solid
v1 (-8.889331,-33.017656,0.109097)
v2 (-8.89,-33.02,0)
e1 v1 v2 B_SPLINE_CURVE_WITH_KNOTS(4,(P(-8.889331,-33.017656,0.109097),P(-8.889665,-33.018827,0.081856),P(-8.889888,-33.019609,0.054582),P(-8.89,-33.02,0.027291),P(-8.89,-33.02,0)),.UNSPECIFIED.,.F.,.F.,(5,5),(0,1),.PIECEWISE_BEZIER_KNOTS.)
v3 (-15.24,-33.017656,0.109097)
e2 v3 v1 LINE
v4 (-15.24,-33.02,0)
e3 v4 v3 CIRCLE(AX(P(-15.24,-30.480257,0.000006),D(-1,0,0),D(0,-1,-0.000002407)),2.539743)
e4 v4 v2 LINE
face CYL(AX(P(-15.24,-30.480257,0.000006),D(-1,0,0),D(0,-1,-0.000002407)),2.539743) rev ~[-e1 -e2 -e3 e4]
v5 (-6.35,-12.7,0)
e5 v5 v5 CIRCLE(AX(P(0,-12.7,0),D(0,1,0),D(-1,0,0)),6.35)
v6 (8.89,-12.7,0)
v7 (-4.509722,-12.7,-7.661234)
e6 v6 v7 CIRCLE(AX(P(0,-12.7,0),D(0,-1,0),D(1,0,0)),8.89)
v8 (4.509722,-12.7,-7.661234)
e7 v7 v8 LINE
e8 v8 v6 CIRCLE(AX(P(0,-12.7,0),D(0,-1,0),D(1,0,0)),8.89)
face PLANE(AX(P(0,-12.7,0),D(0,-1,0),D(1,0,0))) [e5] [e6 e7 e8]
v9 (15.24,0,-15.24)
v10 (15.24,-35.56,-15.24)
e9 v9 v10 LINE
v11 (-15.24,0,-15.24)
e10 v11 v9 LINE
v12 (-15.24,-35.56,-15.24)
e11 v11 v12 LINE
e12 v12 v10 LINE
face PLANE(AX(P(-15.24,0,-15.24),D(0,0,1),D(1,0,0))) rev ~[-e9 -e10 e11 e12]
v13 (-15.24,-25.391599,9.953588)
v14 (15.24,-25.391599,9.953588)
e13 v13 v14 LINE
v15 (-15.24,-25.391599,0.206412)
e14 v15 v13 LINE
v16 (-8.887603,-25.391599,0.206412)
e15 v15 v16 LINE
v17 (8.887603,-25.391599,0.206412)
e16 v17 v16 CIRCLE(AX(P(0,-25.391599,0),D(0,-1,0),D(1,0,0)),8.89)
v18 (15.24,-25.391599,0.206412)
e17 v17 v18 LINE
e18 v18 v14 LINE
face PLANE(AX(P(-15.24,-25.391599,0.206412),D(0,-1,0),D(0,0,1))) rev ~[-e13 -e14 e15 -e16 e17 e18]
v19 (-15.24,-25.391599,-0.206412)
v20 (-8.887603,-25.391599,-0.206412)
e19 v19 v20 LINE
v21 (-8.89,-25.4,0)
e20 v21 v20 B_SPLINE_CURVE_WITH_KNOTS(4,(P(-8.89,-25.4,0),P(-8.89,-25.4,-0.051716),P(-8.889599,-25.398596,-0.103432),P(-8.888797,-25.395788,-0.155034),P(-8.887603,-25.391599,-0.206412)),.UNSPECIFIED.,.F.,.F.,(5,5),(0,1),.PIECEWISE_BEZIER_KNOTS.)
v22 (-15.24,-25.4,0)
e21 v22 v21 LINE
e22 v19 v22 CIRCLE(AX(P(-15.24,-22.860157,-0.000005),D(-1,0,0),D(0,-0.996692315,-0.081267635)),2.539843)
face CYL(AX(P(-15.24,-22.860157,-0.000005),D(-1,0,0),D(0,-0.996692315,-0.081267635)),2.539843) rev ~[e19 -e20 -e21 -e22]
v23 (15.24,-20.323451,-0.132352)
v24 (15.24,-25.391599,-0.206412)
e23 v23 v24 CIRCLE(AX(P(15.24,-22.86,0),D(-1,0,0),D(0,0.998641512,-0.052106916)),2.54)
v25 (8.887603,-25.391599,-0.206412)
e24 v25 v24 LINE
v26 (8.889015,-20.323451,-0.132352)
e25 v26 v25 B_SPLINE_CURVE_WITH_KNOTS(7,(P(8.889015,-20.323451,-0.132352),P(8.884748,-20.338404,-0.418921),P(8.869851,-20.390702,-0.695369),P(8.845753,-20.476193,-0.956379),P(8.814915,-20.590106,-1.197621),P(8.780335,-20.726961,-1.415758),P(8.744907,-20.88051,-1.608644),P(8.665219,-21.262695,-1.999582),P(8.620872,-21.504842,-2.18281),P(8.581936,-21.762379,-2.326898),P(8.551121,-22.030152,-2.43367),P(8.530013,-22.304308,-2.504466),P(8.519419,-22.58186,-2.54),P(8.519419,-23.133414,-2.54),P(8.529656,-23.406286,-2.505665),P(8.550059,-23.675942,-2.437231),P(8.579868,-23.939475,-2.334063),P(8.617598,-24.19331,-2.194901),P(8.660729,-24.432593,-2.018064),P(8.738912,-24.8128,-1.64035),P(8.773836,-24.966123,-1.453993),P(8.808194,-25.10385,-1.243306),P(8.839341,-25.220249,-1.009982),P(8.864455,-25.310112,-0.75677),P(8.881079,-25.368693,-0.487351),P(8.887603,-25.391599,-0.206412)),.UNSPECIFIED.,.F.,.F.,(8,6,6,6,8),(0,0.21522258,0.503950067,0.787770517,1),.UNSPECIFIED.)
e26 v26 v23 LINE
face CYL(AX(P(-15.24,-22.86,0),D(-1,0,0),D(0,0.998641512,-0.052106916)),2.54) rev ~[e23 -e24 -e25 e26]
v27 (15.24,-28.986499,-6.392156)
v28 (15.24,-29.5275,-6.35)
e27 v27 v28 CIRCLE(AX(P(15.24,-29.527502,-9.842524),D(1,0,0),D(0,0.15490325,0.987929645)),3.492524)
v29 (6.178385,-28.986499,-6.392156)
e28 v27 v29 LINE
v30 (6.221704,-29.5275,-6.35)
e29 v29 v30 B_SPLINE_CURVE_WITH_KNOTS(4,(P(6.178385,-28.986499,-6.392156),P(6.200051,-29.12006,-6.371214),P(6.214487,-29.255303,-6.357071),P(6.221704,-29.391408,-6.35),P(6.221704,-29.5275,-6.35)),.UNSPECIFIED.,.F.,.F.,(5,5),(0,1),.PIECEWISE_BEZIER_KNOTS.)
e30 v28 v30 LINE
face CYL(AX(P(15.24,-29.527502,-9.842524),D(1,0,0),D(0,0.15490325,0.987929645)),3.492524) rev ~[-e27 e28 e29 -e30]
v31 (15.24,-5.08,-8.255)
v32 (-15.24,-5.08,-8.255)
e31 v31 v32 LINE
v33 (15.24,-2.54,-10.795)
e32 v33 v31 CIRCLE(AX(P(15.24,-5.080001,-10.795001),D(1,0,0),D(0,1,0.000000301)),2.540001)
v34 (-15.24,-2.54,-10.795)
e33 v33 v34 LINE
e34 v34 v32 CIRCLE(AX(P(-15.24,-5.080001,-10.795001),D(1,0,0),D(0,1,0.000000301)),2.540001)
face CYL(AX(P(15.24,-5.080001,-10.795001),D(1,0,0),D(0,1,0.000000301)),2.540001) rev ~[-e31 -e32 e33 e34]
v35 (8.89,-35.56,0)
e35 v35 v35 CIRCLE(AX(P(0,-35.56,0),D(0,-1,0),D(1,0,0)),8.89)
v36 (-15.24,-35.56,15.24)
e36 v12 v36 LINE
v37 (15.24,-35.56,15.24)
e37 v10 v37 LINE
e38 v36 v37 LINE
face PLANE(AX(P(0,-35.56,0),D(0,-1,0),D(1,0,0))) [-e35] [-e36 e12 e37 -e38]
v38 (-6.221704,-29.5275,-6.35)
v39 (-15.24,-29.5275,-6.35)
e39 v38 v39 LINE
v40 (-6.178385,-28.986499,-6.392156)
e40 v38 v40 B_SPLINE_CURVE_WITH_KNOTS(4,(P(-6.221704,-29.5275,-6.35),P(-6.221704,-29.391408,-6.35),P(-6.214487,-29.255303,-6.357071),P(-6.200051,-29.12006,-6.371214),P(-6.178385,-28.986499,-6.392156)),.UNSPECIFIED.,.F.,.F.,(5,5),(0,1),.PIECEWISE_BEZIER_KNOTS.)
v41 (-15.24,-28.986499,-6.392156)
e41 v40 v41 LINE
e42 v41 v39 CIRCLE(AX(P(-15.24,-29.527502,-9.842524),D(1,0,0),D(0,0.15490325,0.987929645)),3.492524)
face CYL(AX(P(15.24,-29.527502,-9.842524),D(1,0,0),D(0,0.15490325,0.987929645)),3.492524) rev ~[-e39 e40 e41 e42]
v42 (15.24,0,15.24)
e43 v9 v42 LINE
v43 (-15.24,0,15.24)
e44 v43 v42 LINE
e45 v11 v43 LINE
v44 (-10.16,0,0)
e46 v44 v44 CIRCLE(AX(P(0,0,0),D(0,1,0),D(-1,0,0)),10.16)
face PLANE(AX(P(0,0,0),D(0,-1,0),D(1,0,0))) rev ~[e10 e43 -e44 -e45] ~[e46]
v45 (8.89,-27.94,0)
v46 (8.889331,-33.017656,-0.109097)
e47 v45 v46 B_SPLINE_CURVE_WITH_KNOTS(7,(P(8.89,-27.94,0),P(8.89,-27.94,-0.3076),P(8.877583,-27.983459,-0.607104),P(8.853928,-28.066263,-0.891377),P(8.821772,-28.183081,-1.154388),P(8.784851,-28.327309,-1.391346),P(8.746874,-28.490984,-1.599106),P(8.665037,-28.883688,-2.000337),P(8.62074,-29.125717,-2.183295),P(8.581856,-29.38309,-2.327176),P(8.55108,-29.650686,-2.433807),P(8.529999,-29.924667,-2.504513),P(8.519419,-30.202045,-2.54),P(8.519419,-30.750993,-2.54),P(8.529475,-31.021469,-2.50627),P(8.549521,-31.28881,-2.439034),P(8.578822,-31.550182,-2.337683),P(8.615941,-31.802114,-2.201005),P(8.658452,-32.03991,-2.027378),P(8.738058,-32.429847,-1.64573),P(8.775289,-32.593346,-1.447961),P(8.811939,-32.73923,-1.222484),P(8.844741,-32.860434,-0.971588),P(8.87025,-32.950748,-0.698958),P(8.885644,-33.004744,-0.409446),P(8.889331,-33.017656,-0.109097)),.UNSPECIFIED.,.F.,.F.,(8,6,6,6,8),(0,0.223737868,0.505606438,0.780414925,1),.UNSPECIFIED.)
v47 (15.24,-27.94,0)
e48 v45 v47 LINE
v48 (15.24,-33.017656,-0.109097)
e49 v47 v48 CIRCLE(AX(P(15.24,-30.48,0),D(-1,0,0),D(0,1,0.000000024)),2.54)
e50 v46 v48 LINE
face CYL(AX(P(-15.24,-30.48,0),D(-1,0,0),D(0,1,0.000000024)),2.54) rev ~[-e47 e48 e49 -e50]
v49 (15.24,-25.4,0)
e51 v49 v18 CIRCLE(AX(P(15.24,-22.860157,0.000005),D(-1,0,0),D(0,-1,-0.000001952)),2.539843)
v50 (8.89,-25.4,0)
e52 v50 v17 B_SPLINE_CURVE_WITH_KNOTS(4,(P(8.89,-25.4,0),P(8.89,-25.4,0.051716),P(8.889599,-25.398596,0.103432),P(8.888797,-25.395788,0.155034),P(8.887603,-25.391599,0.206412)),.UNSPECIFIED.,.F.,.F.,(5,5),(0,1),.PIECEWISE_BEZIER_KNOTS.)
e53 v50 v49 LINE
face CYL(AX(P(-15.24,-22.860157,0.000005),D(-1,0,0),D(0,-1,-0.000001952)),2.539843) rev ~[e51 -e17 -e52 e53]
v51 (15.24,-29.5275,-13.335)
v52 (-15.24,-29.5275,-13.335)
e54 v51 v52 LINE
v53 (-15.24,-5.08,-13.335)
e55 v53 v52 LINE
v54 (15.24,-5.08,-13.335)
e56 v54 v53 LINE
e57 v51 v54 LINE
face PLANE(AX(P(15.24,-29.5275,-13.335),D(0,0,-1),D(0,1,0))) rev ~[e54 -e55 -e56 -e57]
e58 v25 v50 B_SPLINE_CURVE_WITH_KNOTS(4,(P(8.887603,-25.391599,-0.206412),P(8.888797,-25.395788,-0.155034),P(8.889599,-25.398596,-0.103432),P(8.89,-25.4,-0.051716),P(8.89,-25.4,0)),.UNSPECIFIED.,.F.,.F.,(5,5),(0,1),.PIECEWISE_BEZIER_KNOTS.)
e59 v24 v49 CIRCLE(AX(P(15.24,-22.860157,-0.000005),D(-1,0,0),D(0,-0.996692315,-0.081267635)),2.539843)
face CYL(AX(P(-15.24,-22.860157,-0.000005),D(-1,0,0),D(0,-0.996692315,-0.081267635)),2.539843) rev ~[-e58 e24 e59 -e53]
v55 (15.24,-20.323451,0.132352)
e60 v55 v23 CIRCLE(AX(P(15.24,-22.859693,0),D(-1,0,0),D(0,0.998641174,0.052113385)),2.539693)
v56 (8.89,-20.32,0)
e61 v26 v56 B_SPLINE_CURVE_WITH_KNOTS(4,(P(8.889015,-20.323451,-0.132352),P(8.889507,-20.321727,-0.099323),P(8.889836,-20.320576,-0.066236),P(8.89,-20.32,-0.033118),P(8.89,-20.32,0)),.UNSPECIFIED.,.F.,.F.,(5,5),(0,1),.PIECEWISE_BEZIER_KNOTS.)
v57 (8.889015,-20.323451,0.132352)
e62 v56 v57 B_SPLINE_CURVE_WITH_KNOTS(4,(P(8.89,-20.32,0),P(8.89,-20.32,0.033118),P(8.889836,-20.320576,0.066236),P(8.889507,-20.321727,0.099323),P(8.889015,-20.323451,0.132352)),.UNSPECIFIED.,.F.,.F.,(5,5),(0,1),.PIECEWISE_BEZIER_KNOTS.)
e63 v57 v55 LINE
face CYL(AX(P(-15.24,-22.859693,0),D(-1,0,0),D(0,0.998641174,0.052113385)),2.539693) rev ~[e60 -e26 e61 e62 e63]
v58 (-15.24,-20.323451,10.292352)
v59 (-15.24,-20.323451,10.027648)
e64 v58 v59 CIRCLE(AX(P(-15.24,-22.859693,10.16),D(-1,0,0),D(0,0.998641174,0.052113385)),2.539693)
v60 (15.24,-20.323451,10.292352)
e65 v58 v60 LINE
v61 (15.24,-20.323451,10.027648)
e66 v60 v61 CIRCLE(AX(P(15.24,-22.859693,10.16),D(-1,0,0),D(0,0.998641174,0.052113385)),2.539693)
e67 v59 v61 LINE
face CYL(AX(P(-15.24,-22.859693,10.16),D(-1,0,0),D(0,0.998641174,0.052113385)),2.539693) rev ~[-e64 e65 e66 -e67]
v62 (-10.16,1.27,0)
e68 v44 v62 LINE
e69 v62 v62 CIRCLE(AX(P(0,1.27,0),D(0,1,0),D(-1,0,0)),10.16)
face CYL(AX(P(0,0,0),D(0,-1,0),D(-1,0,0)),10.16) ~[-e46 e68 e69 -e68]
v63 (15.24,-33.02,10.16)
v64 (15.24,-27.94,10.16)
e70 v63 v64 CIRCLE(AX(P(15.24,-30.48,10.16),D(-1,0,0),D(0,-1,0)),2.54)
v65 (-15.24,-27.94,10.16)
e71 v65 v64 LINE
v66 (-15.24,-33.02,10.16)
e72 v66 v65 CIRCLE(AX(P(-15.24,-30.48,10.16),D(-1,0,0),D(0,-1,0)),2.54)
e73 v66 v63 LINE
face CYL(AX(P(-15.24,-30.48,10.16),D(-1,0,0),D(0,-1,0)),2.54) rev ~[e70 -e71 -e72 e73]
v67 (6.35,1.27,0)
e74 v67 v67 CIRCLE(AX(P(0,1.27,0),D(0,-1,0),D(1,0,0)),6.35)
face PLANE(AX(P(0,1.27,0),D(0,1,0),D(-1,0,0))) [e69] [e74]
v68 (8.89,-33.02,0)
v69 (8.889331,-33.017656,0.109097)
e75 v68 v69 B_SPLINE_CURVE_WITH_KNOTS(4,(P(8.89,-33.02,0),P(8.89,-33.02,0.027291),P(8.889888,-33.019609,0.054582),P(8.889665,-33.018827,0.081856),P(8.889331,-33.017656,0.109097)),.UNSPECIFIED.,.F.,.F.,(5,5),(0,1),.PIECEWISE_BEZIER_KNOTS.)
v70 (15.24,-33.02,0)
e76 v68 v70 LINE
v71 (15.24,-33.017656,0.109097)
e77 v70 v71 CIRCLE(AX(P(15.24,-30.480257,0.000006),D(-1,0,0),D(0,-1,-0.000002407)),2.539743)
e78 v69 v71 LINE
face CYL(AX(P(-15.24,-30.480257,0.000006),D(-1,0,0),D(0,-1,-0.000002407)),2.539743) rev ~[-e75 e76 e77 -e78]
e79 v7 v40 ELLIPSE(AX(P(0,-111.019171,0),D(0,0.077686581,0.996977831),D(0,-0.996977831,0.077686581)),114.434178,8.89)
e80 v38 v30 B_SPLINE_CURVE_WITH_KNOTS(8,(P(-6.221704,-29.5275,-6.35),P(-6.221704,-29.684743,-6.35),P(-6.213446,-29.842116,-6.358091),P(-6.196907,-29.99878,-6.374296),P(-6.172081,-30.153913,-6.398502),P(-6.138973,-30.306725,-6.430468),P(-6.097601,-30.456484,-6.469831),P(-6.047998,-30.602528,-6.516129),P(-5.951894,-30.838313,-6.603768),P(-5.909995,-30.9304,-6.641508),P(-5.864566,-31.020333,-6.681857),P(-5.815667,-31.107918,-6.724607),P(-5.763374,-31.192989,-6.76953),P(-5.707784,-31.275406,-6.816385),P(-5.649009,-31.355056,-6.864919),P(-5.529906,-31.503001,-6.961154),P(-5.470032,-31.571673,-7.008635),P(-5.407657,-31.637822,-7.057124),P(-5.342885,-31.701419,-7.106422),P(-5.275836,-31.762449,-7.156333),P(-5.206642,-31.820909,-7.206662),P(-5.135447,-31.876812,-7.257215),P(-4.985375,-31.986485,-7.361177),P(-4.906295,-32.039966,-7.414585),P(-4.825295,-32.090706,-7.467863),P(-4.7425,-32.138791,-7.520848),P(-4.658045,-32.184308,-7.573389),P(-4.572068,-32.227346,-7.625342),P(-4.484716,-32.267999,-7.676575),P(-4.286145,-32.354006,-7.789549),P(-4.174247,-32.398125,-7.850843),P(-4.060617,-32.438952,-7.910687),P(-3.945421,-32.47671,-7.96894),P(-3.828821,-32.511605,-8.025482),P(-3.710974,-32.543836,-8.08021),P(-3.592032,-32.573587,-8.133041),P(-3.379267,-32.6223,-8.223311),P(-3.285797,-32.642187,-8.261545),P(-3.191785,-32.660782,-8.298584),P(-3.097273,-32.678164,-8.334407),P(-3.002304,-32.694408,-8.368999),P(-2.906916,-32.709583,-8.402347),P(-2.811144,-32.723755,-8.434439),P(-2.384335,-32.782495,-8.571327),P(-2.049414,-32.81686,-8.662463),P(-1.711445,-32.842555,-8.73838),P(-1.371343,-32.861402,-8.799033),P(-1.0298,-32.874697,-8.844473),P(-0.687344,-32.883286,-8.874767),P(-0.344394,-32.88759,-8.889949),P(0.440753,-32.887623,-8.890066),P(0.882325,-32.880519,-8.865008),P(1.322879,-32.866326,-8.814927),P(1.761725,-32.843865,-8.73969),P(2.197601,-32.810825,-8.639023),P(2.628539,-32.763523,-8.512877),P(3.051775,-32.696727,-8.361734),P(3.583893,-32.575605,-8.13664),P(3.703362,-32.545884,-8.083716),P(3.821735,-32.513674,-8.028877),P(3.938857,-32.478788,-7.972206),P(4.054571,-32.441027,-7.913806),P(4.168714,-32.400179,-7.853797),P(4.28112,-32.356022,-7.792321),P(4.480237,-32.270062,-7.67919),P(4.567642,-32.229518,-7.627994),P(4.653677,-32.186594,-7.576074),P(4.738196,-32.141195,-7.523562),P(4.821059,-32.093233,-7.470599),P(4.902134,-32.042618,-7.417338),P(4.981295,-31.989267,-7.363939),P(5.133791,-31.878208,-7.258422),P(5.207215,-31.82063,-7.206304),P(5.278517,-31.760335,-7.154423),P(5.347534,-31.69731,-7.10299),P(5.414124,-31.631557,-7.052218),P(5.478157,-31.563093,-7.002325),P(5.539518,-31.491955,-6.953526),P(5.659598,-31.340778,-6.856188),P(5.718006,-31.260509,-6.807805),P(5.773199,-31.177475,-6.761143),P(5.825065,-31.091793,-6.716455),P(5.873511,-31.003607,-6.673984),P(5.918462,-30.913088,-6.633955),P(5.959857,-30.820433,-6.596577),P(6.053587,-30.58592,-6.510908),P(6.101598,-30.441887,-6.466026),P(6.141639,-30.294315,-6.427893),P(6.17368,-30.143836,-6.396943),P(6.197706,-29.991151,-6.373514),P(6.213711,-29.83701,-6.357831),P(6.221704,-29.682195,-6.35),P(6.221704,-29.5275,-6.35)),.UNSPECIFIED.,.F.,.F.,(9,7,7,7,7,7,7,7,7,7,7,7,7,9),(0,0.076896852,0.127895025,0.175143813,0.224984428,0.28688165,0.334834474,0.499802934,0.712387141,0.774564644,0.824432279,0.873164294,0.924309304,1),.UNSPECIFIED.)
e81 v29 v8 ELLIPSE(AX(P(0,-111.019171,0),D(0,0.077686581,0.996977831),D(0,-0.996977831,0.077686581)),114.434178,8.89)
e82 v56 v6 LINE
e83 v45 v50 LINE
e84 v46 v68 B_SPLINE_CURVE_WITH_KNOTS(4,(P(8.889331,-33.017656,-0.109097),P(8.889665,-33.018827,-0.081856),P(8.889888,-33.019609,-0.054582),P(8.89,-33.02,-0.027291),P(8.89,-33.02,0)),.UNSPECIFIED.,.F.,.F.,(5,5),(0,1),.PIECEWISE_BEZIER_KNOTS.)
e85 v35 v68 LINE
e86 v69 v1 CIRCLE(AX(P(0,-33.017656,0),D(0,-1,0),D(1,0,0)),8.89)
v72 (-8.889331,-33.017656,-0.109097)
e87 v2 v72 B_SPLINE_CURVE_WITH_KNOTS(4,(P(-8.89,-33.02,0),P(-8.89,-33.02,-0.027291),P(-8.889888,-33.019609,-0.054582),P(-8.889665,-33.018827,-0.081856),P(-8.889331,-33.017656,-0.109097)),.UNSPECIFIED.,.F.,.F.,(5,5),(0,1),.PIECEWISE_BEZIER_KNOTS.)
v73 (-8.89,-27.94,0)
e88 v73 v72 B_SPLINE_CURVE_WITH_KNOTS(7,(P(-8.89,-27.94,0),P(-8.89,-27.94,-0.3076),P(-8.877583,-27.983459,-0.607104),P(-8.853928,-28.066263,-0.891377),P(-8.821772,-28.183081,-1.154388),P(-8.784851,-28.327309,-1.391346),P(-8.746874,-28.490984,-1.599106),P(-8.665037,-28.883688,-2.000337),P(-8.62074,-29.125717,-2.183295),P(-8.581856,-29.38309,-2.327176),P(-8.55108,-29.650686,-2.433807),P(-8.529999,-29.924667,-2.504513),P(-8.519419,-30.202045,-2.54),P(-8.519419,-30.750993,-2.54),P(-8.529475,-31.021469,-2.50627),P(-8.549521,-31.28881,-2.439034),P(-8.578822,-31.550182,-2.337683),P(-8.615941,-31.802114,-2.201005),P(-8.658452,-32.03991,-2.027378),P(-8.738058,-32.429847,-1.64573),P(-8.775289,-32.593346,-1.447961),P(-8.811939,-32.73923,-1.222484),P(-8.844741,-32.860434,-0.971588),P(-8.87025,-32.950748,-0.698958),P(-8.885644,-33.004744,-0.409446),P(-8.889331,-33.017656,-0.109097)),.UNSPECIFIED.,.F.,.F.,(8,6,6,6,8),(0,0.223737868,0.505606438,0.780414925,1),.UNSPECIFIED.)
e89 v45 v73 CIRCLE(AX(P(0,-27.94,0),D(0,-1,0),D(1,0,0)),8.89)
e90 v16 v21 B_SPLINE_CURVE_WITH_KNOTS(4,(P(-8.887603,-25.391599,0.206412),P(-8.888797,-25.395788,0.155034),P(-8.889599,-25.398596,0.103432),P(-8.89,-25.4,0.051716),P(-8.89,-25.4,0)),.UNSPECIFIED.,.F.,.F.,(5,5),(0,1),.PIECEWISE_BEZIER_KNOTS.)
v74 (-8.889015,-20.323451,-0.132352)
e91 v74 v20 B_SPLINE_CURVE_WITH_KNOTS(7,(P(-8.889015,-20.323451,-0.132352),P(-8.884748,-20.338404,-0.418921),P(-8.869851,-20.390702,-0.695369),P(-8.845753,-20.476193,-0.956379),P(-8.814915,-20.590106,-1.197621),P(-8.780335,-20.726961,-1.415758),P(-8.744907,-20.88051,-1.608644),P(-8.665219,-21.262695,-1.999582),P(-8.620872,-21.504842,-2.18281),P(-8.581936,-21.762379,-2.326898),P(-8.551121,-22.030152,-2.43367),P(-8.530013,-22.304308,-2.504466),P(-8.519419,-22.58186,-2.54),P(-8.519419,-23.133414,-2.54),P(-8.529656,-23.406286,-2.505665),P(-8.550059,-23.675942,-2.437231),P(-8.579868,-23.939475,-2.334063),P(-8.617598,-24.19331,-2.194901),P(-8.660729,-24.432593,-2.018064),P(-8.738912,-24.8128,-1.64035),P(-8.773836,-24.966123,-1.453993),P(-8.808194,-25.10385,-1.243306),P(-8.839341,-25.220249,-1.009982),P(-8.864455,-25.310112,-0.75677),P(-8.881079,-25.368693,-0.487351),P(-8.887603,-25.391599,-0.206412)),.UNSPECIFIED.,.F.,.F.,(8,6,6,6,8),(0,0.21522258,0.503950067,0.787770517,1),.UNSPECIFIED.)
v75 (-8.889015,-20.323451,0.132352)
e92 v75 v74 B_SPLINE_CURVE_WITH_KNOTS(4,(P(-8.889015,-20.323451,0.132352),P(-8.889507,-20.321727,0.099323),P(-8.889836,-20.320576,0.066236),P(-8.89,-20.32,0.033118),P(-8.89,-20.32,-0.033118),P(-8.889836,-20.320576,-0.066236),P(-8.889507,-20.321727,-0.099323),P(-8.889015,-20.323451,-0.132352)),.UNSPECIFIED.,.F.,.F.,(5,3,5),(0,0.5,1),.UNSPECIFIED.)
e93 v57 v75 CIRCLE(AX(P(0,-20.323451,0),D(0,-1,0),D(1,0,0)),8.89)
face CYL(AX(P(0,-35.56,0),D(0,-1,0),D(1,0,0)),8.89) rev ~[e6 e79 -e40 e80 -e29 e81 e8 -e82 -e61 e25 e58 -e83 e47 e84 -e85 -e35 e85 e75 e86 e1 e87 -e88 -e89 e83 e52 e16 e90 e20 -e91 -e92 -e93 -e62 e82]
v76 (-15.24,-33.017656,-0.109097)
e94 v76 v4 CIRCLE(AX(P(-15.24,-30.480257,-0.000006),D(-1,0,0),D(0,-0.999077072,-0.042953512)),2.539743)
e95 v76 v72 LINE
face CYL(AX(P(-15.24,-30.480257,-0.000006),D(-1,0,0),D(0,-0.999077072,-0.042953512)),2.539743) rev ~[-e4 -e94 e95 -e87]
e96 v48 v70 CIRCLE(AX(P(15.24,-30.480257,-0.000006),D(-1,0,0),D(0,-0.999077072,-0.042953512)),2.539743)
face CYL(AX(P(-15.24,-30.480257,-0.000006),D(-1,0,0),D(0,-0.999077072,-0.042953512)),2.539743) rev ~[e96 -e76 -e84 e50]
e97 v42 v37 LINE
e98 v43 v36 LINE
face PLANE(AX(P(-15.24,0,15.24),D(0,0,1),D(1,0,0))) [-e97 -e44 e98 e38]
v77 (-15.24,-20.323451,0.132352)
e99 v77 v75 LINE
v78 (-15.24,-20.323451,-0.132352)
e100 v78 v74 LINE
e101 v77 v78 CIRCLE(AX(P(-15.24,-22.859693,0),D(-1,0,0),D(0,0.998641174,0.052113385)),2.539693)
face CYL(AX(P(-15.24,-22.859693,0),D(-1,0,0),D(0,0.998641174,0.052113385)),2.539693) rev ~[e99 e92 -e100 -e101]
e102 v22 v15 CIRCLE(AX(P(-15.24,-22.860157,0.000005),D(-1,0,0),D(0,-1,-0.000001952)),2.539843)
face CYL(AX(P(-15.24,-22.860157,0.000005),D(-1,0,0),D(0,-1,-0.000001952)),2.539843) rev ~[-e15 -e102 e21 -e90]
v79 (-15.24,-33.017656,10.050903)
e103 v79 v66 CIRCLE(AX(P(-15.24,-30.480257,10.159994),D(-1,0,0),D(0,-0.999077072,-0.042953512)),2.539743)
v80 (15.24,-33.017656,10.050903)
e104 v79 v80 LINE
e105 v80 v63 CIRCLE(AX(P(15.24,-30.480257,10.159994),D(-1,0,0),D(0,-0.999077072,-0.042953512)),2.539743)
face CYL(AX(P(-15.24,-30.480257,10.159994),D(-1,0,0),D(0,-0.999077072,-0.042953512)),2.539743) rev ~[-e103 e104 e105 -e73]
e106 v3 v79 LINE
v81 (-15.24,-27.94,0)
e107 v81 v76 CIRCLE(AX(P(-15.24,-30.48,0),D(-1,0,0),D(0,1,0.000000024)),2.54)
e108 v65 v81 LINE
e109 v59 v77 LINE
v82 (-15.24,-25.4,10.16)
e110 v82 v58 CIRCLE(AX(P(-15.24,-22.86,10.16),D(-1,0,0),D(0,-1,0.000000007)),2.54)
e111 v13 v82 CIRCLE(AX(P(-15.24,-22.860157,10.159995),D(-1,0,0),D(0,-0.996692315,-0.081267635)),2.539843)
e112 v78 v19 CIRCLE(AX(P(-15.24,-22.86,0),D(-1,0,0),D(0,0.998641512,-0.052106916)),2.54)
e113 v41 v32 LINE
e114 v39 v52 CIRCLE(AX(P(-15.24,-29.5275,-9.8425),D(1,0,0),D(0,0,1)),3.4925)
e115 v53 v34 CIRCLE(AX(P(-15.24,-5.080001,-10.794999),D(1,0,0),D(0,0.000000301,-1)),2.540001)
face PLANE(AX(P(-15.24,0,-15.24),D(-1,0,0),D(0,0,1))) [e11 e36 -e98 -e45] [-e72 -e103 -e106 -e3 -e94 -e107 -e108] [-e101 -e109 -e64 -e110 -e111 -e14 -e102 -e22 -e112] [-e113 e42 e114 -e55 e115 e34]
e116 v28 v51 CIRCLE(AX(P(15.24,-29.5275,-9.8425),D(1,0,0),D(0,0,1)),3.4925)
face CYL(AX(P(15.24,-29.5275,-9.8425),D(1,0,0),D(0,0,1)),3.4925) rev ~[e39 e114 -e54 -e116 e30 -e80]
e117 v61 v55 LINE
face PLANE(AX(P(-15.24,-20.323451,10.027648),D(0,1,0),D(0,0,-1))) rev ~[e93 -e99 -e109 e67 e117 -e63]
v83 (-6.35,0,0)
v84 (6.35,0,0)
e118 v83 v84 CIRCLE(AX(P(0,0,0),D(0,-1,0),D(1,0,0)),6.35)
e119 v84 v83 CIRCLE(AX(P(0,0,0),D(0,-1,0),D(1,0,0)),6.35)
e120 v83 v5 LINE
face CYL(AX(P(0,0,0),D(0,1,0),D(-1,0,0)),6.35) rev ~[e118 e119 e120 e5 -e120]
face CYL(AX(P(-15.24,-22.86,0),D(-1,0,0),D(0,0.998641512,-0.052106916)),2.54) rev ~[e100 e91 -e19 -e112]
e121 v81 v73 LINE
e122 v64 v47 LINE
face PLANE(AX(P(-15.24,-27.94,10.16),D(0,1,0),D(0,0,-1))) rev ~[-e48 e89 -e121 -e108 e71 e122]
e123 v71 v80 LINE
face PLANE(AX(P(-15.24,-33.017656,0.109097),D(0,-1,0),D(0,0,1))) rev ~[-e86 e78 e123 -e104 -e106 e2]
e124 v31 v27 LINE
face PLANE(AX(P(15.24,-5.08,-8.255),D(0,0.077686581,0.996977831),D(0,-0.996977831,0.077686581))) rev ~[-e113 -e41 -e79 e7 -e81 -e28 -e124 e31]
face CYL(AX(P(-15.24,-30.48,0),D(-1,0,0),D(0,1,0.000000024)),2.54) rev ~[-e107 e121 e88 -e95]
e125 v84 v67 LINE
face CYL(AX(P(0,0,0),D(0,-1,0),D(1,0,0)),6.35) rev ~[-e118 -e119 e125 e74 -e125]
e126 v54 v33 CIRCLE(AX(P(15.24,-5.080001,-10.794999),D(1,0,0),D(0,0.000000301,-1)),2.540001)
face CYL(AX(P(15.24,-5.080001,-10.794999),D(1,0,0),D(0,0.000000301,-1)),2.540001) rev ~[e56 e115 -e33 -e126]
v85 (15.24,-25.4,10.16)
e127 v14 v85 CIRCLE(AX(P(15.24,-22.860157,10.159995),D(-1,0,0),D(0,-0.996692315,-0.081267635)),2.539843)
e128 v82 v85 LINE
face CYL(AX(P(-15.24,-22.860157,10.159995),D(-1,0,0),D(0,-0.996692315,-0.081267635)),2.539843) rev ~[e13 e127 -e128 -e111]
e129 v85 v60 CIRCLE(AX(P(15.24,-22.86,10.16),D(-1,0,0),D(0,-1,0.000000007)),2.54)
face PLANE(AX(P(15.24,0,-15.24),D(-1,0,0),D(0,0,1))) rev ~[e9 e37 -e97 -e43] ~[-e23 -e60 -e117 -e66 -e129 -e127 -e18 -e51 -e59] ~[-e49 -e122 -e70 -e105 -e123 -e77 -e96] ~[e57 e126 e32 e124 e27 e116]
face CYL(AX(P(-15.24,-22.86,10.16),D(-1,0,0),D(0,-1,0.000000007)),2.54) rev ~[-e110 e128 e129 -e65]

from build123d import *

# Parameters (mm, degrees)
F0_W      = 30.48
F0_H      = 30.48
F1_DEPTH  = 35.56
F3_DEPTH  = 38.1
F5_DEPTH  = 38.1
F6_R      = 8.89
F7_DEPTH  = 22.86
F8_R      = 10.16
F9_DEPTH  = 1.27
F10_R     = 6.35
F11_DEPTH = 38.1
F12_R     = 6.35
F13_DEPTH = 25.4


with BuildPart() as f1:
    # F0 (on Front) → F1 (new body)
    with BuildSketch(Plane.XZ):
        Rectangle(F0_W, F0_H)
    extrude(amount=F1_DEPTH)

    # F2 (on face) → F3 (cut)
    with BuildSketch(Plane(origin=(-15.24, 0, 0), x_dir=(0, -1, 0), z_dir=(-1, 0, 0))):
        with BuildLine():
            ThreePointArc((33.017656, 10.050903), (33.019414, 10.105439), (33.02, 10.16))
            ThreePointArc((33.02, 10.16), (30.48, 12.7), (27.94, 10.16))
            ThreePointArc((27.94, 10.16), (30.425439, 7.620586), (33.017656, 10.050903))
        make_face()
        with BuildLine():
            ThreePointArc((33.017656, 10.050903), (30.425439, 7.620586), (27.94, 10.16))
            Line((27.94, 10.16), (27.94, 0))
            ThreePointArc((27.94, 0), (30.425439, 2.539414), (33.017656, 0.109097))
            Line((33.017656, 0.109097), (33.017656, 10.050903))
        make_face()
        with BuildLine():
            ThreePointArc((33.017656, 0.109097), (30.425439, 2.539414), (27.94, 0))
            ThreePointArc((27.94, 0), (30.425439, -2.539414), (33.017656, -0.109097))
            Line((33.017656, -0.109097), (33.017656, 0.109097))
        make_face()
        with BuildLine():
            ThreePointArc((33.02, 0), (33.019414, 0.054561), (33.017656, 0.109097))
            Line((33.017656, 0.109097), (33.017656, -0.109097))
            ThreePointArc((33.017656, -0.109097), (33.019414, -0.054561), (33.02, 0))
        make_face()
        with BuildLine():
            ThreePointArc((25.391599, 9.953588), (25.397899, 10.056709), (25.4, 10.16))
            ThreePointArc((25.4, 10.16), (22.926198, 12.699137), (20.323451, 10.292352))
            Line((20.323451, 10.292352), (20.323451, 10.027648))
            ThreePointArc((20.323451, 10.027648), (22.822887, 7.620271), (25.391599, 9.953588))
        make_face()
        with BuildLine():
            Line((20.323451, 10.027648), (20.323451, 10.292352))
            ThreePointArc((20.323451, 10.292352), (20.32, 10.16), (20.323451, 10.027648))
        make_face()
        with BuildLine():
            Line((25.391599, 0.206412), (25.391599, 9.953588))
            ThreePointArc((25.391599, 9.953588), (22.822887, 7.620271), (20.323451, 10.027648))
            Line((20.323451, 10.027648), (20.323451, 0.132352))
            ThreePointArc((20.323451, 0.132352), (22.822887, 2.539729), (25.391599, 0.206412))
        make_face()
        with BuildLine():
            Line((25.391599, -0.206412), (25.391599, 0.206412))
            ThreePointArc((25.391599, 0.206412), (22.822887, 2.539729), (20.323451, 0.132352))
            Line((20.323451, 0.132352), (20.323451, -0.132352))
            ThreePointArc((20.323451, -0.132352), (22.822887, -2.539729), (25.391599, -0.206412))
        make_face()
        with BuildLine():
            ThreePointArc((25.4, 0), (25.397899, 0.103291), (25.391599, 0.206412))
            Line((25.391599, 0.206412), (25.391599, -0.206412))
            ThreePointArc((25.391599, -0.206412), (25.397899, -0.103291), (25.4, 0))
        make_face()
        with BuildLine():
            Line((20.323451, -0.132352), (20.323451, 0.132352))
            ThreePointArc((20.323451, 0.132352), (20.32, 0), (20.323451, -0.132352))
        make_face()
    extrude(amount=-F3_DEPTH, mode=Mode.SUBTRACT)

    # F4 (on face) → F5 (cut)
    with BuildSketch(Plane.YZ.offset(15.24)):
        with BuildLine():
            Line((-28.986499, -6.392156), (-29.5275, -6.35))
            ThreePointArc((-29.5275, -6.35), (-33.02, -9.8425), (-29.5275, -13.335))
            ThreePointArc((-29.5275, -13.335), (-27.05793, -12.31207), (-26.035, -9.8425))
            ThreePointArc((-26.035, -9.8425), (-26.873541, -7.572246), (-28.986499, -6.392156))
        make_face()
        with BuildLine():
            ThreePointArc((-28.986499, -6.392156), (-29.25618, -6.360555), (-29.5275, -6.35))
            Line((-29.5275, -6.35), (-28.986499, -6.392156))
        make_face()
        with BuildLine():
            ThreePointArc((-26.035, -9.8425), (-27.05793, -12.31207), (-29.5275, -13.335))
            Line((-29.5275, -13.335), (-5.08, -13.335))
            ThreePointArc((-5.08, -13.335), (-7.62, -10.795), (-5.08, -8.255))
            Line((-5.08, -8.255), (-28.986499, -6.392156))
            ThreePointArc((-28.986499, -6.392156), (-26.873541, -7.572246), (-26.035, -9.8425))
        make_face()
        with BuildLine():
            ThreePointArc((-5.08, -8.255), (-7.62, -10.795), (-5.08, -13.335))
            ThreePointArc((-5.08, -13.335), (-3.283949, -12.591051), (-2.54, -10.795))
            ThreePointArc((-2.54, -10.795), (-3.283949, -8.998949), (-5.08, -8.255))
        make_face()
    extrude(amount=-F5_DEPTH, mode=Mode.SUBTRACT)

    # F6 (on face) → F7 (cut)
    with BuildSketch(Plane.XZ.offset(35.56)):
        Circle(F6_R)
    extrude(amount=-F7_DEPTH, mode=Mode.SUBTRACT)

    # F8 (on face) → F9 (join)
    with BuildSketch(Plane(origin=(0, 0, 0), x_dir=(-1, 0, 0), z_dir=(0, 1, 0))):
        Circle(F8_R)
    extrude(amount=F9_DEPTH)

    # F10 (on face) → F11 (cut)
    with BuildSketch(Plane.XZ):
        Circle(F10_R)
    extrude(amount=-F11_DEPTH, mode=Mode.SUBTRACT)

    # F12 (on face) → F13 (cut)
    with BuildSketch(Plane(origin=(0, 0, 0), x_dir=(-1, 0, 0), z_dir=(0, 1, 0))):
        Circle(F12_R)
    extrude(amount=-F13_DEPTH, mode=Mode.SUBTRACT)


solid = f1.part
